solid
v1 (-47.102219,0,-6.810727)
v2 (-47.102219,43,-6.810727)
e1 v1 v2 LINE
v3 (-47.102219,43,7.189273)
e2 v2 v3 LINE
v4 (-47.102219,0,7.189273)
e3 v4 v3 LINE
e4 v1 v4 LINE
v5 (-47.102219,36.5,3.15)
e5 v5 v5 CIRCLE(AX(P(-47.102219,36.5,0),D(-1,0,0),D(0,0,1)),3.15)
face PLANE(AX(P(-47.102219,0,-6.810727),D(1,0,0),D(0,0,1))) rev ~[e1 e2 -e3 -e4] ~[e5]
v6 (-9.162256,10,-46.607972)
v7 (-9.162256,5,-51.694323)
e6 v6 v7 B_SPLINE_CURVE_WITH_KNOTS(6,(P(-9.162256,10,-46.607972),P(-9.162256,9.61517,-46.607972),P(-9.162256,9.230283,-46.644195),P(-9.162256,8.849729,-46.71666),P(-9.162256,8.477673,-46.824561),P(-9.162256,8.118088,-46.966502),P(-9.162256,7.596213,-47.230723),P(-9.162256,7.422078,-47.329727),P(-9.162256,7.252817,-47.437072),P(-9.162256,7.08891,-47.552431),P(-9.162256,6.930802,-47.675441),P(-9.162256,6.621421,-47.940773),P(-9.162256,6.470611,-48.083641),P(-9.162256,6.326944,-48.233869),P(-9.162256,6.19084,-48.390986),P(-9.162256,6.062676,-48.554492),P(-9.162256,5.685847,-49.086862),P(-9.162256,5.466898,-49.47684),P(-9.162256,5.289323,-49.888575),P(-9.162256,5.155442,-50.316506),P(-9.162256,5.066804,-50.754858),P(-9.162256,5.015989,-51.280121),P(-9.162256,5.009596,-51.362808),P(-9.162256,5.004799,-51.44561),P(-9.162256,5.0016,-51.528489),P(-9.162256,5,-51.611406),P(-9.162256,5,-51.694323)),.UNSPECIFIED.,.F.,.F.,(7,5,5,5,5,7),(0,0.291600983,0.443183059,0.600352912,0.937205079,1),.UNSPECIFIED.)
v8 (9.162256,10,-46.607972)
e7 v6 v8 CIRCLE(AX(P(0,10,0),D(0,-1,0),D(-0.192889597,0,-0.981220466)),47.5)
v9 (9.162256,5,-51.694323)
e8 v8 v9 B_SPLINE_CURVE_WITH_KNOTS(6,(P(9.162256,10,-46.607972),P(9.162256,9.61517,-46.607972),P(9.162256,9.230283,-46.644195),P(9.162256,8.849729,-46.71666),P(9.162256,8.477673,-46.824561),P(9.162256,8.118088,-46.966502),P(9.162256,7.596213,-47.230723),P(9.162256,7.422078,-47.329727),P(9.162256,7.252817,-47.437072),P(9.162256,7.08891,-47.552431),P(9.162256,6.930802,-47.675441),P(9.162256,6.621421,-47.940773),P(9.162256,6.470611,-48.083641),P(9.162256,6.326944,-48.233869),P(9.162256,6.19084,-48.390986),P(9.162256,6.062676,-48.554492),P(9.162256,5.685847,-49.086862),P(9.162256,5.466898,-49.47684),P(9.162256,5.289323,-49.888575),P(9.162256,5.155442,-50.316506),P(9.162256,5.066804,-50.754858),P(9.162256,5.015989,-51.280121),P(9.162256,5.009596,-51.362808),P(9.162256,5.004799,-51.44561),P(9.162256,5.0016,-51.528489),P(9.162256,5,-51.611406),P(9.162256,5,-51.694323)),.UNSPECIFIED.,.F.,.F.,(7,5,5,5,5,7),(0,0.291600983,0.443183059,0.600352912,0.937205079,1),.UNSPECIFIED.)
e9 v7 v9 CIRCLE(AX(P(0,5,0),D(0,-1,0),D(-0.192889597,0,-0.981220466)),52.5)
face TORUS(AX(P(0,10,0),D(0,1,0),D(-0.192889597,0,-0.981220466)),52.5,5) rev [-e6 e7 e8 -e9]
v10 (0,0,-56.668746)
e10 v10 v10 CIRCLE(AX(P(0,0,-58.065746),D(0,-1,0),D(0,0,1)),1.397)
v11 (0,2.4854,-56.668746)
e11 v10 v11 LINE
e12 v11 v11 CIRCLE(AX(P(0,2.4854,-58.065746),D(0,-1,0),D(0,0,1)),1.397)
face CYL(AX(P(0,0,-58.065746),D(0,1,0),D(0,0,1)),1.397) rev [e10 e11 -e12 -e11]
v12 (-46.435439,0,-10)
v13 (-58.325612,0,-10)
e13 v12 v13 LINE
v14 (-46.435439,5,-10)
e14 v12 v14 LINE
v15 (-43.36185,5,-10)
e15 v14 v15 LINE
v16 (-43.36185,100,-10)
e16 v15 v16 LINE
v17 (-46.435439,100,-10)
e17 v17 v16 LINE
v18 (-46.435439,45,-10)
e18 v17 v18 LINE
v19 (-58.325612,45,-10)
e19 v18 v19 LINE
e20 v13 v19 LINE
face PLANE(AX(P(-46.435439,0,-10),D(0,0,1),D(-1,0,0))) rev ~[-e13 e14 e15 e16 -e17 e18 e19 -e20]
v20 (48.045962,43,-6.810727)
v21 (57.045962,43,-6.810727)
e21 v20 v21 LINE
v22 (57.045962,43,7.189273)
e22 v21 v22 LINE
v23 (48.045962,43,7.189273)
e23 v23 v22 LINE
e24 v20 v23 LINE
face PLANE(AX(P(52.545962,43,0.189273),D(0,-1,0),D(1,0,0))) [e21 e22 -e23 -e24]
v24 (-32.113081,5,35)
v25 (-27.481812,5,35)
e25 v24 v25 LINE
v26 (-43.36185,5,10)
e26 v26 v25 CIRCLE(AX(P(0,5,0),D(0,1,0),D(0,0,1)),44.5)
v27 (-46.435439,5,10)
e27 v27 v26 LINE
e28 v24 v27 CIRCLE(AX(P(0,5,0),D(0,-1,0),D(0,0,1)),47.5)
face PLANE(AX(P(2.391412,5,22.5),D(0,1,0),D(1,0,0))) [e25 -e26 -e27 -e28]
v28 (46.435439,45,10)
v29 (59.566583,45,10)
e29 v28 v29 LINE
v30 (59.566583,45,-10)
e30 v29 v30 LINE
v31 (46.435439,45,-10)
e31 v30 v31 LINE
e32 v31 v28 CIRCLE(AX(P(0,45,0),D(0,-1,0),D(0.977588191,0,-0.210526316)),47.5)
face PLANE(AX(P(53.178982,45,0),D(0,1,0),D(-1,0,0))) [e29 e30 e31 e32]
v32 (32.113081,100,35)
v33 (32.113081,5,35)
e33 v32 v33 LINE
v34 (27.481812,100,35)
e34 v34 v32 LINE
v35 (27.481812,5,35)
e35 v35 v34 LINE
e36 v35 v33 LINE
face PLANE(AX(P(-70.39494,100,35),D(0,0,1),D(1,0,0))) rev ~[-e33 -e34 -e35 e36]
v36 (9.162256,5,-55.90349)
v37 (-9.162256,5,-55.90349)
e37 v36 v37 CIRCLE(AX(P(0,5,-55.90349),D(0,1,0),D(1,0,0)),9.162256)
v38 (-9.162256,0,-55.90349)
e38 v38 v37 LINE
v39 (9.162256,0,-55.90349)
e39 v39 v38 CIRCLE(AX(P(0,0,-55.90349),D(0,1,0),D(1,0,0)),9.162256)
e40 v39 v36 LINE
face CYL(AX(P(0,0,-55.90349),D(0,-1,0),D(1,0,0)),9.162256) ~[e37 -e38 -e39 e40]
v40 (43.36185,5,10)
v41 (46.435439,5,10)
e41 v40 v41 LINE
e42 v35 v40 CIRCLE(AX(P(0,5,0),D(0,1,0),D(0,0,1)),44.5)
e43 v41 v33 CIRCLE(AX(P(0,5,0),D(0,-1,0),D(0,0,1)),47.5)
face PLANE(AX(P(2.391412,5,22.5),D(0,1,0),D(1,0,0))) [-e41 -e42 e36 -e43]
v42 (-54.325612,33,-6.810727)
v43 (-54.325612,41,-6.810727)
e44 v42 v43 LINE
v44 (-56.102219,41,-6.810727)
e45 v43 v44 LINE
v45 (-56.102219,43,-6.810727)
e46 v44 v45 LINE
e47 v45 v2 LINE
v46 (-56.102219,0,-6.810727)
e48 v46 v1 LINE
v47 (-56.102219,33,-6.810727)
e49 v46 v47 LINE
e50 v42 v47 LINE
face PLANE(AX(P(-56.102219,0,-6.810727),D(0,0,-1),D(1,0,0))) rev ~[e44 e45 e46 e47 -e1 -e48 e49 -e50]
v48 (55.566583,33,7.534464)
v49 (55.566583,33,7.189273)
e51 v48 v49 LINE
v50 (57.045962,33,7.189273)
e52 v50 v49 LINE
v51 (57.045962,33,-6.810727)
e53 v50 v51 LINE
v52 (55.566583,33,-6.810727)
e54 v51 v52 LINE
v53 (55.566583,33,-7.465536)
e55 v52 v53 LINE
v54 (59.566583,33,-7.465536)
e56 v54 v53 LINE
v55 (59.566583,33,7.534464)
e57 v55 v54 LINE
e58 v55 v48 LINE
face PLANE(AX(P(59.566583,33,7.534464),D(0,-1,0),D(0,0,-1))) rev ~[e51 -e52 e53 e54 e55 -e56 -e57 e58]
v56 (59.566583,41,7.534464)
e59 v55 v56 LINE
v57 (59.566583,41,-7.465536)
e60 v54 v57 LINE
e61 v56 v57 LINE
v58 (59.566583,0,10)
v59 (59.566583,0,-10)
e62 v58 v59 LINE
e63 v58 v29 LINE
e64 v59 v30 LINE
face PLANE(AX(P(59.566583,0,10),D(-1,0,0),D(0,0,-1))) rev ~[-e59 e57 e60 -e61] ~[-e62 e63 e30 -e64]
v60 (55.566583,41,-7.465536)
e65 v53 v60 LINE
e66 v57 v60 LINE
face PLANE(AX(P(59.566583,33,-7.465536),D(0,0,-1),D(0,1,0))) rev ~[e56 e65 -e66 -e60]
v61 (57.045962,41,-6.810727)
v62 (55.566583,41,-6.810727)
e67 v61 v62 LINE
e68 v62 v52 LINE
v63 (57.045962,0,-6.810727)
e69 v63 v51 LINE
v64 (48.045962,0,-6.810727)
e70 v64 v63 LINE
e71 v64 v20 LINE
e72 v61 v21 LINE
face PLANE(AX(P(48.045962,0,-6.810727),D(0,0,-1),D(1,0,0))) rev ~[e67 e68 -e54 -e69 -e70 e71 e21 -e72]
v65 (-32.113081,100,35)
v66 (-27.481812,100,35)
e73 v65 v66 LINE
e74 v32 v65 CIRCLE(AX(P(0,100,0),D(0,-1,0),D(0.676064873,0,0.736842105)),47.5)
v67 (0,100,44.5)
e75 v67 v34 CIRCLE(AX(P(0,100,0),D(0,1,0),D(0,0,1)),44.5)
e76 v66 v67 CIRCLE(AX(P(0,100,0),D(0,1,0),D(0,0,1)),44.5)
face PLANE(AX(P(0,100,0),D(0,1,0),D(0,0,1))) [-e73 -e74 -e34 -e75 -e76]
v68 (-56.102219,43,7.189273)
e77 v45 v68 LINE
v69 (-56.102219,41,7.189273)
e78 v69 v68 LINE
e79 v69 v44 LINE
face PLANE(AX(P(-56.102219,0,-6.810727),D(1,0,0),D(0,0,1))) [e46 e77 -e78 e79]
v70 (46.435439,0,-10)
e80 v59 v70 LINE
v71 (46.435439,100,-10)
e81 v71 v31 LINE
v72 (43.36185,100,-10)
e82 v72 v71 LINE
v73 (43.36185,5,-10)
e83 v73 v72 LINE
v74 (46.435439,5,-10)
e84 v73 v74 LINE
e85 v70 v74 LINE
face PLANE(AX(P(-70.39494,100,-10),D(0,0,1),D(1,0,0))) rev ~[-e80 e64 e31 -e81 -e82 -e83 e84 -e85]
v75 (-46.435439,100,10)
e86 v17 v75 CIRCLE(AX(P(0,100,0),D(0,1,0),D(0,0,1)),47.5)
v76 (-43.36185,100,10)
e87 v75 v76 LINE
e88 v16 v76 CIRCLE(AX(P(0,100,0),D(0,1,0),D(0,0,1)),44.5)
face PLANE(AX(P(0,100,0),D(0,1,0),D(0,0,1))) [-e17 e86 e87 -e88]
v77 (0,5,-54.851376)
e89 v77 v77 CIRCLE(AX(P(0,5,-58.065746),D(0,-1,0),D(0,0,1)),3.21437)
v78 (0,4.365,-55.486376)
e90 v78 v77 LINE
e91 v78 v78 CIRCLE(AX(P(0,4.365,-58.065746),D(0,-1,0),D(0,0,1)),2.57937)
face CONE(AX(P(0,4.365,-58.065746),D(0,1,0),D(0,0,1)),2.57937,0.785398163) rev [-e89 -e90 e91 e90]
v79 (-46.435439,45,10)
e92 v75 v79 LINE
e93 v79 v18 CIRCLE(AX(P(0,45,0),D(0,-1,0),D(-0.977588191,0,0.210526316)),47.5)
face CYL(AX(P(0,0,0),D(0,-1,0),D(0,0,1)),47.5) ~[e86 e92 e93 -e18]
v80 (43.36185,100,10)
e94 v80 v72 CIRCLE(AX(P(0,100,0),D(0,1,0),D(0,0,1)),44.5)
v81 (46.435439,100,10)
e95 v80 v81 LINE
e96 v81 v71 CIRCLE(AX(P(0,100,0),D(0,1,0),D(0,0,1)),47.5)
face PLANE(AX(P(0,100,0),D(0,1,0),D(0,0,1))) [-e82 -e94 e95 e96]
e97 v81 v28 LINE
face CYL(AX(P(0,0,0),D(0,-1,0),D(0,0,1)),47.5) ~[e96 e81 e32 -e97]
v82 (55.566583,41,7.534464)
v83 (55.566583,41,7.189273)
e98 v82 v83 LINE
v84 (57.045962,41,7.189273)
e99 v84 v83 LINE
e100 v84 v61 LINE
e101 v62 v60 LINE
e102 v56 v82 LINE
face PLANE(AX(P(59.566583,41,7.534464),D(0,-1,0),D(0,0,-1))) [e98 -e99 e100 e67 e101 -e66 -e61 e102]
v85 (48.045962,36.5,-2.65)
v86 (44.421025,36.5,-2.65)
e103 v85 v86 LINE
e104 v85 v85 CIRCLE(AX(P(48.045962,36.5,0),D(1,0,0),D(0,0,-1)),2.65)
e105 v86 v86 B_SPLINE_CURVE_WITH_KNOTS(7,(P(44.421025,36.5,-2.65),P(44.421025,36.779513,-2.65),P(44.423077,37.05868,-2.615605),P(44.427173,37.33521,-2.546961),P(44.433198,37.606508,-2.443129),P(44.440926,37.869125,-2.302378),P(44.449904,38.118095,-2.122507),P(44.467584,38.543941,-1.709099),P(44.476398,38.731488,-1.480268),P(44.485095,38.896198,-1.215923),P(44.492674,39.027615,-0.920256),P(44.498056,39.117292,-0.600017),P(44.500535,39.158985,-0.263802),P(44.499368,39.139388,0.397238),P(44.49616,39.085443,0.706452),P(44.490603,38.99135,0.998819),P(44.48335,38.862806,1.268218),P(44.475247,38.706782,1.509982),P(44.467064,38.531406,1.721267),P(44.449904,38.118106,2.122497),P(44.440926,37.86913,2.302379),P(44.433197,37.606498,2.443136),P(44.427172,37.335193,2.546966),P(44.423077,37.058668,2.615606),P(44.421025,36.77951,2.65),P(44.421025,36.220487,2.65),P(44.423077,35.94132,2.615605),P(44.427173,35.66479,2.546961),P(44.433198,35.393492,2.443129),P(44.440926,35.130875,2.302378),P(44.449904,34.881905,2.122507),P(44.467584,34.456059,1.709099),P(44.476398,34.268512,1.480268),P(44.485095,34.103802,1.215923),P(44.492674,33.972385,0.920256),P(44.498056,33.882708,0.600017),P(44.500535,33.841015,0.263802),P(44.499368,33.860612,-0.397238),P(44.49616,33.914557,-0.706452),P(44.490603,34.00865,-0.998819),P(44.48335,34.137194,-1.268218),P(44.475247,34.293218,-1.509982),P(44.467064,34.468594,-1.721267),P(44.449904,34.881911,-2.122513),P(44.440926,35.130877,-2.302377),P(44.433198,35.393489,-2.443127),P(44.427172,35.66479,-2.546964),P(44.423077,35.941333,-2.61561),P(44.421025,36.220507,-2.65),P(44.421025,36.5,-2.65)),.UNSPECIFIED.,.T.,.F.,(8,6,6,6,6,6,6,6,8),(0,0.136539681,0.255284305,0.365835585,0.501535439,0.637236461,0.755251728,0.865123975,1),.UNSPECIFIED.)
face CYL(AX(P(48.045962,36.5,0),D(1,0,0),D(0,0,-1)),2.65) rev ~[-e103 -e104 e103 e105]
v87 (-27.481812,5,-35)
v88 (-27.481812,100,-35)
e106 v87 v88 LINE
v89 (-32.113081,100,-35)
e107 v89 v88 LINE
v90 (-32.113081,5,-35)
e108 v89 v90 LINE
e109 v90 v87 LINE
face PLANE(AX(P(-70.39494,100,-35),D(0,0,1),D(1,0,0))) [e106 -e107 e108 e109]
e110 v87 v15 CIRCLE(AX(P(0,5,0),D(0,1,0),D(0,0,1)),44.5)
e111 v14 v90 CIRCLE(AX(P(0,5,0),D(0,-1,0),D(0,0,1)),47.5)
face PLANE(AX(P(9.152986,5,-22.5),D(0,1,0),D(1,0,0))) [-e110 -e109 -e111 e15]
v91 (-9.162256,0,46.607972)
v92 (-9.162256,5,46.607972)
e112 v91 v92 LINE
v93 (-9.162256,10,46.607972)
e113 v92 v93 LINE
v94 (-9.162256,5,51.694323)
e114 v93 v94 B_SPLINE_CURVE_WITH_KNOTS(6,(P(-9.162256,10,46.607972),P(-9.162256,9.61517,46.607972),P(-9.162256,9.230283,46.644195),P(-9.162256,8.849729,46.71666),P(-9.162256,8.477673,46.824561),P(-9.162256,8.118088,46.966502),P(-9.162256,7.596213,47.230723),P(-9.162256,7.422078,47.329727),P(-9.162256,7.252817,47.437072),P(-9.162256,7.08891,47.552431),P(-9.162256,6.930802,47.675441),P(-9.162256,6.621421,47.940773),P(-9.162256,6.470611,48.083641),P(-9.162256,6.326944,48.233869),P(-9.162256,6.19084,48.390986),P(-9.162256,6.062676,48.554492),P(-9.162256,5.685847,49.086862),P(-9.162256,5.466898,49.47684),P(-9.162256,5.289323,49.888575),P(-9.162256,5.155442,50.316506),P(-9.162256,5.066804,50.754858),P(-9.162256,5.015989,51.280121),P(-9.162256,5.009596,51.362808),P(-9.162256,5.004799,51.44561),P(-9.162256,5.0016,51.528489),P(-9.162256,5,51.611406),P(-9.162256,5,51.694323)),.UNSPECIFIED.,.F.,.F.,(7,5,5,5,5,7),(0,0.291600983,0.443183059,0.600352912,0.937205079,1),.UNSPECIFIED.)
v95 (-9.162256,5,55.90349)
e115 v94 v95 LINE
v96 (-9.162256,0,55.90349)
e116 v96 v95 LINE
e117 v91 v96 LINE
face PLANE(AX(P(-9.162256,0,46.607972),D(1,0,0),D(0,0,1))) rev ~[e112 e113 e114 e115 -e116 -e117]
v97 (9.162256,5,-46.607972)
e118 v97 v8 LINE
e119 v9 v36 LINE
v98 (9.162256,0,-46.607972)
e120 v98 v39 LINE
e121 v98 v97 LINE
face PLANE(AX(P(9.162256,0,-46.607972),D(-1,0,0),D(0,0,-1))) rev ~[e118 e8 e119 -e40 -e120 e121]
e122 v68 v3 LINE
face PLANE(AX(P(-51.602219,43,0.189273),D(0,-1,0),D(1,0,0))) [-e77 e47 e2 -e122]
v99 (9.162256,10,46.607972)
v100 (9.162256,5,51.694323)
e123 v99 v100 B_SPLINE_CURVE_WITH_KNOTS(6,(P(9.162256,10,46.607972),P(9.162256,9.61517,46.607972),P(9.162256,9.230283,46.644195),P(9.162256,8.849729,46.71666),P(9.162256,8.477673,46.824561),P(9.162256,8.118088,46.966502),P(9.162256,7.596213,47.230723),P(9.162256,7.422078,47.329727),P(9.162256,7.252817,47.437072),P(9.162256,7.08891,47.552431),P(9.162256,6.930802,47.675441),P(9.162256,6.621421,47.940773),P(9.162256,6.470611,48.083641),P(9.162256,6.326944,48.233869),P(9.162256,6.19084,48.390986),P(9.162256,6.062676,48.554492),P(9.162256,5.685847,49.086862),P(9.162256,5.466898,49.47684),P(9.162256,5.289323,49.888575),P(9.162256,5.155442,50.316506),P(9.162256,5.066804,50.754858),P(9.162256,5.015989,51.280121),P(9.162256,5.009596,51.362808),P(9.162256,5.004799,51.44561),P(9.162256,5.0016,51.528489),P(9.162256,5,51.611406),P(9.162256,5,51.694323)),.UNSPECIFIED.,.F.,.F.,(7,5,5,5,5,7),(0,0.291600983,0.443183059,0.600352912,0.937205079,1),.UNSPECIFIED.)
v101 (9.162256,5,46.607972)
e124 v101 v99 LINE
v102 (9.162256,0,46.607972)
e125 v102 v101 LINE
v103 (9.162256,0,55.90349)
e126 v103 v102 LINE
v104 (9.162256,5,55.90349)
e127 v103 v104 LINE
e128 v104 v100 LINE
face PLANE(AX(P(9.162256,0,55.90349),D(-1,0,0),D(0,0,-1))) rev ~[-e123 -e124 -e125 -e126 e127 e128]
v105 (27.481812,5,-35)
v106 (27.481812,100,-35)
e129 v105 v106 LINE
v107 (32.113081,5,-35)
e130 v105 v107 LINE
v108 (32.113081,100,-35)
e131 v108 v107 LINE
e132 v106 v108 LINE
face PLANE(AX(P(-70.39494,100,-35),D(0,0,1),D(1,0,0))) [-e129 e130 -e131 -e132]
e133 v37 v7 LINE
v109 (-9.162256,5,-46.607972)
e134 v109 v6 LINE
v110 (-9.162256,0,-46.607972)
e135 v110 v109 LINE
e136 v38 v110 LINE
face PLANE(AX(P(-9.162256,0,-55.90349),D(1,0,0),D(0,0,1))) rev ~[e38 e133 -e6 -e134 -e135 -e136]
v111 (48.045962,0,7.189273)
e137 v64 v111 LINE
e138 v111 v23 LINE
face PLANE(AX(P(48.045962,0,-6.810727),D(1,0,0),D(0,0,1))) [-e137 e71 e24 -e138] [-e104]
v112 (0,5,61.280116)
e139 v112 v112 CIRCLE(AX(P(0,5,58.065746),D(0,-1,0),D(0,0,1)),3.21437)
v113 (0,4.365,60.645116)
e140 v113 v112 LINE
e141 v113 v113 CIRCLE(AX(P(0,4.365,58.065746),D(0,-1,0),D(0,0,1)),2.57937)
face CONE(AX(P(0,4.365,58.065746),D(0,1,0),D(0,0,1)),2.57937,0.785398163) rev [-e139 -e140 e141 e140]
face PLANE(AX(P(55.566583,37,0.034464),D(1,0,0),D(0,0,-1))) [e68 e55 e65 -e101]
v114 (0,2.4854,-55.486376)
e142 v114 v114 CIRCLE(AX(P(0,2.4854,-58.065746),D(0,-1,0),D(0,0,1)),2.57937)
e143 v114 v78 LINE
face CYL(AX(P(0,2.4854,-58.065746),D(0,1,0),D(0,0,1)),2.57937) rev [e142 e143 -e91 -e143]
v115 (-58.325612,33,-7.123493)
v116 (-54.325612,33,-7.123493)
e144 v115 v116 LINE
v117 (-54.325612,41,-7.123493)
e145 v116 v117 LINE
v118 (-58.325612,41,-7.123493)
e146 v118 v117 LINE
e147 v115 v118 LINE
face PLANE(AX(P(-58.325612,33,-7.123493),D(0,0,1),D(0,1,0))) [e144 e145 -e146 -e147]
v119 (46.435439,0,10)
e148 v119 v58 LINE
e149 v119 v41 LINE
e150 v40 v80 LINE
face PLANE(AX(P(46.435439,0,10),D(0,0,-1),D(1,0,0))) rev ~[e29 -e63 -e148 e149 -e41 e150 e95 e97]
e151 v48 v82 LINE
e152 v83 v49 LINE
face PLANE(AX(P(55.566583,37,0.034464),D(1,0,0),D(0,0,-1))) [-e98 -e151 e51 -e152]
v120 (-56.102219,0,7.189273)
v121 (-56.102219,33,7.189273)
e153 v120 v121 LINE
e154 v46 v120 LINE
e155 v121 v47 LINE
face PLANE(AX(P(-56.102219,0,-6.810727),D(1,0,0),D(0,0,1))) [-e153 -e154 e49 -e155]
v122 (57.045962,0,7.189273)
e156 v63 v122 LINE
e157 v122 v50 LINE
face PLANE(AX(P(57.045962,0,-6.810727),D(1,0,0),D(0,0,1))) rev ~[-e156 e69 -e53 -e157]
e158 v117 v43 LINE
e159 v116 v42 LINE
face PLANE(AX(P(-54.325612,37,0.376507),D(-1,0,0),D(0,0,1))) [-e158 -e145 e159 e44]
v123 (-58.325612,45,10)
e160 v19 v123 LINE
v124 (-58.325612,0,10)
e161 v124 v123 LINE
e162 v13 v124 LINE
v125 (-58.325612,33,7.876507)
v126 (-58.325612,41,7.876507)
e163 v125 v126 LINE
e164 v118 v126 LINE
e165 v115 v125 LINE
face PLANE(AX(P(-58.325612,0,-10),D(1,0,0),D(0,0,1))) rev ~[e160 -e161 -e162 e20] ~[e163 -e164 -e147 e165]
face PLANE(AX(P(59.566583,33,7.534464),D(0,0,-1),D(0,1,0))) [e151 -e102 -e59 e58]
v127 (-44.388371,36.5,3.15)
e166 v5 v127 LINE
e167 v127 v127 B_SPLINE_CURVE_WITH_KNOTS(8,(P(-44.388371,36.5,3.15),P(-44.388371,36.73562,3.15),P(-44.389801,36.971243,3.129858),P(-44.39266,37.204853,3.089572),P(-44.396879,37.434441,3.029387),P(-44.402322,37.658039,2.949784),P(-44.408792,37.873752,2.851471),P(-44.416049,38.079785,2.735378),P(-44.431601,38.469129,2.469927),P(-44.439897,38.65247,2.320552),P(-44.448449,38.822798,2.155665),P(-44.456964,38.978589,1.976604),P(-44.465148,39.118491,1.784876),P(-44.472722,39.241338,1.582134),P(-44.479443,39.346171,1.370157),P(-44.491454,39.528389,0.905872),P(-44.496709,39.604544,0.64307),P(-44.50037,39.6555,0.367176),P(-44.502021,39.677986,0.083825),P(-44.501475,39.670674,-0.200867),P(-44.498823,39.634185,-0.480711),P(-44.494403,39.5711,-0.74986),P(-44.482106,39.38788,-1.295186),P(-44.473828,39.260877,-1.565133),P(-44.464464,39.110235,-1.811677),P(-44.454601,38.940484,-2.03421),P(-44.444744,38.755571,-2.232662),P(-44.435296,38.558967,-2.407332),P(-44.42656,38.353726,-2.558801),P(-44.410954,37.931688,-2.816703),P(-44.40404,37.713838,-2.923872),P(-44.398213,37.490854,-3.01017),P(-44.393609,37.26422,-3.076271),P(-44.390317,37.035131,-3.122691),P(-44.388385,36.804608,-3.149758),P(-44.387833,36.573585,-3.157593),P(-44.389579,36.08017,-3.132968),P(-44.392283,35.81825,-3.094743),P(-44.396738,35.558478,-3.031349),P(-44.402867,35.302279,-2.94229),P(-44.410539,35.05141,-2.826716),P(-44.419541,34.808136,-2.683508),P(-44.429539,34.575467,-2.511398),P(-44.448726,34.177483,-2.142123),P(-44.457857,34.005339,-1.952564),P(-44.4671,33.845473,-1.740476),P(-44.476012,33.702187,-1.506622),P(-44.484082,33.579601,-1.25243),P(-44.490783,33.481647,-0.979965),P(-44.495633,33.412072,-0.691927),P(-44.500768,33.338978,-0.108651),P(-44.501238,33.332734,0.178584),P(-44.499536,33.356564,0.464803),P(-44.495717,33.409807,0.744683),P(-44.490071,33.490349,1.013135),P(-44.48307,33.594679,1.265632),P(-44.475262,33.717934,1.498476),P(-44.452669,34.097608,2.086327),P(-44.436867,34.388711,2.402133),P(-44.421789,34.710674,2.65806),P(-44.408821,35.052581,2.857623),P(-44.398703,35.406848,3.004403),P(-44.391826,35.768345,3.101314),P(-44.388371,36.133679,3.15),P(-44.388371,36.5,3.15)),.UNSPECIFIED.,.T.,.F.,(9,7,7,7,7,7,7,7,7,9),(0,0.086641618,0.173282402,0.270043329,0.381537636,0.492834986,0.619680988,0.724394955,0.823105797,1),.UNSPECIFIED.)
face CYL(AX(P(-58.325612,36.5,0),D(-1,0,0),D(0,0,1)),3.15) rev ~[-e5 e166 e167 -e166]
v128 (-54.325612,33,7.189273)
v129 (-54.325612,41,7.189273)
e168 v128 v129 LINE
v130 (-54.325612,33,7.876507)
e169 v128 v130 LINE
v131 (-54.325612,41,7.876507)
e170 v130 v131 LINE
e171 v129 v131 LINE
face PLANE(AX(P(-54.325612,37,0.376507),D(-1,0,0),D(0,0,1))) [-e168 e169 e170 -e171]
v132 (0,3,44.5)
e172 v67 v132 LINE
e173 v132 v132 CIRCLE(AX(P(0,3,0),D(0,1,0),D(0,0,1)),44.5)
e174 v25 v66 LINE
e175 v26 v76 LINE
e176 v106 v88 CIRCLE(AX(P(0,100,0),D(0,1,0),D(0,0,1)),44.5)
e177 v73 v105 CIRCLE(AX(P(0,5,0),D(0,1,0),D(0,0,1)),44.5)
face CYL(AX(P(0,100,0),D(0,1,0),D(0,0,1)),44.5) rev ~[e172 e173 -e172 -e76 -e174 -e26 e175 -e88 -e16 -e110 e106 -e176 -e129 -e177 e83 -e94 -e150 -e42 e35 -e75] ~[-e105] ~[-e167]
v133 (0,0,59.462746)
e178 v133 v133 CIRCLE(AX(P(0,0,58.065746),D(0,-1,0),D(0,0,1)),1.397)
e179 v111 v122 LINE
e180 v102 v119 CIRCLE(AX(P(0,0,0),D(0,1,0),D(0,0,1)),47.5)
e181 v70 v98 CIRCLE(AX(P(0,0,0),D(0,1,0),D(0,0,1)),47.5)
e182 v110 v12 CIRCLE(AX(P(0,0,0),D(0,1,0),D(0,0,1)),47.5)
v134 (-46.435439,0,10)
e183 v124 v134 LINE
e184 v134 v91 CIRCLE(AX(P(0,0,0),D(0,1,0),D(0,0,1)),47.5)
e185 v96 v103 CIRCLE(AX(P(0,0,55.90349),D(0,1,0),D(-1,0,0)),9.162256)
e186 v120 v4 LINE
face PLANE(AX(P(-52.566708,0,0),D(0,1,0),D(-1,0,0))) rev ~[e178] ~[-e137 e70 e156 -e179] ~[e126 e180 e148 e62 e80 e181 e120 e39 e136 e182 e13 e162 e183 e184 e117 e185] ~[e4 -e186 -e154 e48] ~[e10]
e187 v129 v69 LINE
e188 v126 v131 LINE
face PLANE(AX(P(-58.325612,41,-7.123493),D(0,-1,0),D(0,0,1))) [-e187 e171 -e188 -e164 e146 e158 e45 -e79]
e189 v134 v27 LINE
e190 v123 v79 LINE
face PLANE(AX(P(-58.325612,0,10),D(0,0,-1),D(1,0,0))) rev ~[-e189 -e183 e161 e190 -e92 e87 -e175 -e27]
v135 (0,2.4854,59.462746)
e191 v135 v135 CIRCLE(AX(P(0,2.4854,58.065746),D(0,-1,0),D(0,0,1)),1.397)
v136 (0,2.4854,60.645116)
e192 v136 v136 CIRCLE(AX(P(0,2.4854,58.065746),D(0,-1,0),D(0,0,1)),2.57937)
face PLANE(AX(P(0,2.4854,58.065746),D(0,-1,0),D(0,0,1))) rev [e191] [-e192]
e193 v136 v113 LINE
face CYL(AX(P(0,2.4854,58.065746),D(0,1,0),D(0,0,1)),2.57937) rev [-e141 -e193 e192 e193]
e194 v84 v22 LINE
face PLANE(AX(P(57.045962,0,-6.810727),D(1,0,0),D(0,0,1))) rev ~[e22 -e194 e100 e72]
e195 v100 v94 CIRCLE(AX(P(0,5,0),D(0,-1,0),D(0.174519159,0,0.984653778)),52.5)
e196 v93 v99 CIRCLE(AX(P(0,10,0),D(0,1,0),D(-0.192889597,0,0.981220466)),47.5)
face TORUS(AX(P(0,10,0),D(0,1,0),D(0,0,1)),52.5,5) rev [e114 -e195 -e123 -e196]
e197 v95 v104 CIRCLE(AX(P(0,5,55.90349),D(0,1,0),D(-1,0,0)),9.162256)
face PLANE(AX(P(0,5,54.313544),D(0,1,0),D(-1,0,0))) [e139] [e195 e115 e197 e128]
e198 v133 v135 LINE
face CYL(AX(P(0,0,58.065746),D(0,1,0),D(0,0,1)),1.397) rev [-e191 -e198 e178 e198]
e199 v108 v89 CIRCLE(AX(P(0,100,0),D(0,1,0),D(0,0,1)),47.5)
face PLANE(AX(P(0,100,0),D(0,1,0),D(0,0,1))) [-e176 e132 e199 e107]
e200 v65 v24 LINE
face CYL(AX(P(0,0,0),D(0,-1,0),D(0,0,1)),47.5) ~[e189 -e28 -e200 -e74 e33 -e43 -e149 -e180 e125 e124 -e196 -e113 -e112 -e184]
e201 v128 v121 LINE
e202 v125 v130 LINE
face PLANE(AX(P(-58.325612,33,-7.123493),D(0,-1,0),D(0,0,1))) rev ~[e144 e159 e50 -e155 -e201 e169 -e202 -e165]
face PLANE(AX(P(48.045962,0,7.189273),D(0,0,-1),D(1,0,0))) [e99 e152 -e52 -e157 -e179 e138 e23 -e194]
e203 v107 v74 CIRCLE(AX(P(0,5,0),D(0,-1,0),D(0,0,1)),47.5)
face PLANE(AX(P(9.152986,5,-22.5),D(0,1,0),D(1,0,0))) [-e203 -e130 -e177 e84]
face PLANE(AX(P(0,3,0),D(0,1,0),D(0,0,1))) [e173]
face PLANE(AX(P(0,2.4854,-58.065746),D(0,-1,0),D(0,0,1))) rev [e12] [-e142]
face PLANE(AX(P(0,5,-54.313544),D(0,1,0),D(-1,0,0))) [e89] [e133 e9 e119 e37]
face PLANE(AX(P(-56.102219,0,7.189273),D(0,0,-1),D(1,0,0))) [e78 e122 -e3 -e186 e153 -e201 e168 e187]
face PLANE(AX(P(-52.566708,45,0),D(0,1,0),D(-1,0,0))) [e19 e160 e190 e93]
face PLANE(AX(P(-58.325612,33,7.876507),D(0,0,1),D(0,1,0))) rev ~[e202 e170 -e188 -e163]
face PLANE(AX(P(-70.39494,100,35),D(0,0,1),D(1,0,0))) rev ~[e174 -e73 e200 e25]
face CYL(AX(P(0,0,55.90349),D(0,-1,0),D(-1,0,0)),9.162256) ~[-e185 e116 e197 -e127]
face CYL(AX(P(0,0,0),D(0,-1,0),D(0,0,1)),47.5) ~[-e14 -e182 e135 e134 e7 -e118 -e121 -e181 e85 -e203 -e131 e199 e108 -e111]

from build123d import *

# Parameters (mm, degrees)
SKETCH2_R                                     = 47.5
BOSS_EXTRUDE2_DEPTH                           = 100
SKETCH3_R                                     = 44.5
CUT_EXTRUDE1_DEPTH                            = 97
SKETCH4_W                                     = 145.572703988
SKETCH4_H                                     = 25
SKETCH4_W_2                                   = 159.095851353
CUT_EXTRUDE3_DEPTH                            = 95
BOSS_EXTRUDE3_DEPTH                           = 5
FILLET1_R                                     = 5
CBORE_FOR_3_SOCKET_HEAD_CAP_SCREW1_AT_2_COUNT = 2
CBORE_FOR_3_SOCKET_HEAD_CAP_SCREW1_AT_2_PITCH = 116.131492307
BOSS_EXTRUDE4_DEPTH                           = 45
SKETCH10_W                                    = 9
SKETCH10_H                                    = 14
CUT_EXTRUDE4_DEPTH                            = 43
SKETCH11_W                                    = 15
SKETCH11_H                                    = 8
CUT_EXTRUDE5_DEPTH                            = 4
SKETCH12_W                                    = 15
SKETCH12_H                                    = 8
CUT_EXTRUDE6_DEPTH                            = 4
CUT_EXTRUDE7_REACH                            = 169.726
CUT_EXTRUDE7_END_RADIUS                       = 44.5
SKETCH13_R                                    = 3.15
CUT_EXTRUDE8_REACH                            = 161.839
CUT_EXTRUDE8_END_RADIUS                       = 44.5
SKETCH14_R                                    = 2.65


with BuildPart() as part:
    # Sketch2 → Boss-Extrude2 (new body)
    with BuildSketch(Plane(origin=(0, 0, 0), x_dir=(1, 0, 0), z_dir=(0, 1, 0))):
        with Locations(Location((0, 0, 0), (0, 0, 270))):
            Circle(SKETCH2_R)
    extrude(amount=BOSS_EXTRUDE2_DEPTH)

    # Sketch3 → Cut-Extrude1 (cut)
    with BuildSketch(Plane(origin=(0, 100, 0), x_dir=(1, 0, 0), z_dir=(0, 1, 0))):
        with Locations(Location((0, 0, 0), (0, 0, 270))):
            Circle(SKETCH3_R)
    extrude(amount=-CUT_EXTRUDE1_DEPTH, mode=Mode.SUBTRACT)

    # Sketch4 → Cut-Extrude3 (cut)
    with BuildSketch(Plane(origin=(0, 100, 0), x_dir=(1, 0, 0), z_dir=(0, 1, 0))):
        with Locations((2.391411924, -22.5)):
            Rectangle(SKETCH4_W, SKETCH4_H)
        with Locations((9.152985607, 22.5)):
            Rectangle(SKETCH4_W_2, SKETCH4_H)
    extrude(amount=-CUT_EXTRUDE3_DEPTH, mode=Mode.SUBTRACT)

    # Sketch5 → Boss-Extrude3 (add)
    with BuildSketch(Plane.XZ):
        with BuildLine():
            Line((-9.162255845, 46.607972149), (-9.162255845, 55.903490308))
            ThreePointArc((-9.162255845, 55.903490308), (0, 65.065746153), (9.162255845, 55.903490308))
            Line((9.162255845, 55.903490308), (9.162255845, 46.607972149))
            ThreePointArc((9.162255845, 46.607972149), (0, 47.5), (-9.162255845, 46.607972149))
        make_face()
        with BuildLine():
            Line((9.162255845, -46.607972149), (9.162255845, -55.903490308))
            ThreePointArc((9.162255845, -55.903490308), (0, -65.065746153), (-9.162255845, -55.903490308))
            Line((-9.162255845, -55.903490308), (-9.162255845, -46.607972149))
            ThreePointArc((-9.162255845, -46.607972149), (0, -47.5), (9.162255845, -46.607972149))
        make_face()
    extrude(amount=-BOSS_EXTRUDE3_DEPTH)

    # Fillet1
    fillet1_edges = [part.edges().sort_by_distance(p)[0] for p in [
        (0, 5, -47.5),
        (4.602788445, 5, 47.276467069),
    ]]
    fillet(fillet1_edges, radius=FILLET1_R)

    # Sketch8 → CBORE for #3 Socket Head Cap Screw1 (revolve, cut)
    with BuildSketch(Plane(origin=(0, 5, 58.065746153), x_dir=(0, 0, 1), z_dir=(1, 0, 0))):
        Polygon((0, 0), (0, 5), (1.397, 5), (1.397, 2.5146), (2.57937, 2.5146), (2.57937, 0.635), (3.21437, 0), align=None)
    cbore_for_3_socket_head_cap_screw1 = revolve(axis=Axis((0, 11.35, 58.065746153), (0, -1, 0)), mode=Mode.SUBTRACT)

    # CBORE for #3 Socket Head Cap Screw1 at 2: CBORE for #3 Socket Head Cap Screw1 ×2
    with Locations(*[(0, 0, -i * CBORE_FOR_3_SOCKET_HEAD_CAP_SCREW1_AT_2_PITCH) for i in range(1, CBORE_FOR_3_SOCKET_HEAD_CAP_SCREW1_AT_2_COUNT)]):
        add(cbore_for_3_socket_head_cap_screw1, mode=Mode.SUBTRACT)

    # Sketch9 → Boss-Extrude4 (add)
    with BuildSketch(Plane.XZ):
        with BuildLine():
            Line((-58.325612467, 10), (-46.435439053, 10))
            ThreePointArc((-46.435439053, 10), (-47.5, 0), (-46.435439053, -10))
            Line((-46.435439053, -10), (-58.325612467, -10))
            Line((-58.325612467, -10), (-58.325612467, 10))
        make_face()
        with BuildLine():
            Line((46.435439053, 10), (59.566582945, 10))
            Line((59.566582945, 10), (59.566582945, -10))
            Line((59.566582945, -10), (46.435439053, -10))
            ThreePointArc((46.435439053, -10), (47.5, 0), (46.435439053, 10))
        make_face()
    extrude(amount=-BOSS_EXTRUDE4_DEPTH)

    # Sketch10 → Cut-Extrude4 (cut)
    with BuildSketch(Plane.XZ):
        with Locations((-51.602219379, 0.189273316)):
            Rectangle(SKETCH10_W, SKETCH10_H)
        with Locations((52.545961871, 0.189273316)):
            Rectangle(SKETCH10_W, SKETCH10_H)
    extrude(amount=-CUT_EXTRUDE4_DEPTH, mode=Mode.SUBTRACT)

    # Sketch11 → Cut-Extrude5 (cut)
    with BuildSketch(Plane(origin=(59.566582945, 0, 0), x_dir=(0, 0, -1), z_dir=(1, 0, 0))):
        with Locations((-0.034463617, 37)):
            Rectangle(SKETCH11_W, SKETCH11_H)
    extrude(amount=-CUT_EXTRUDE5_DEPTH, mode=Mode.SUBTRACT)

    # Sketch12 → Cut-Extrude6 (cut)
    with BuildSketch(Plane.ZY.offset(58.325612467)):
        with Locations((0.376507126, 37)):
            Rectangle(SKETCH12_W, SKETCH12_H)
    extrude(amount=-CUT_EXTRUDE6_DEPTH, mode=Mode.SUBTRACT)

    # Cut-Extrude7: up to this cylinder (the profile starts outside it)
    cut_extrude7_end = Plane(origin=(0, 36.5, 0), z_dir=(0, 1, 0)) * Cylinder(CUT_EXTRUDE7_END_RADIUS, 429.452, mode=Mode.PRIVATE)
    # Sketch13 → Cut-Extrude7 (cut, up to the surface)
    with BuildSketch(Plane.ZY.offset(58.325612467), mode=Mode.PRIVATE) as cut_extrude7_sk1:
        with Locations((0, 36.5)):
            Circle(SKETCH13_R)
    cut_extrude7_tool1 = extrude(cut_extrude7_sk1.sketch, amount=-CUT_EXTRUDE7_REACH, mode=Mode.PRIVATE) - cut_extrude7_end
    add(cut_extrude7_tool1.solids().sort_by_distance((-58.325612, 36.5, 0))[0], mode=Mode.SUBTRACT)

    # Cut-Extrude8: up to this cylinder (the profile starts outside it)
    cut_extrude8_end = Plane(origin=(0, 36.5, 0), z_dir=(0, 1, 0)) * Cylinder(CUT_EXTRUDE8_END_RADIUS, 413.678, mode=Mode.PRIVATE)
    # Sketch14 → Cut-Extrude8 (cut, up to the surface)
    with BuildSketch(Plane(origin=(48.045961871, 0, 0), x_dir=(0, 0, -1), z_dir=(1, 0, 0)), mode=Mode.PRIVATE) as cut_extrude8_sk1:
        with Locations((0, 36.5)):
            Circle(SKETCH14_R)
    cut_extrude8_tool1 = extrude(cut_extrude8_sk1.sketch, amount=-CUT_EXTRUDE8_REACH, mode=Mode.PRIVATE) - cut_extrude8_end
    add(cut_extrude8_tool1.solids().sort_by_distance((48.045962, 36.5, 0))[0], mode=Mode.SUBTRACT)


solid = part.part
